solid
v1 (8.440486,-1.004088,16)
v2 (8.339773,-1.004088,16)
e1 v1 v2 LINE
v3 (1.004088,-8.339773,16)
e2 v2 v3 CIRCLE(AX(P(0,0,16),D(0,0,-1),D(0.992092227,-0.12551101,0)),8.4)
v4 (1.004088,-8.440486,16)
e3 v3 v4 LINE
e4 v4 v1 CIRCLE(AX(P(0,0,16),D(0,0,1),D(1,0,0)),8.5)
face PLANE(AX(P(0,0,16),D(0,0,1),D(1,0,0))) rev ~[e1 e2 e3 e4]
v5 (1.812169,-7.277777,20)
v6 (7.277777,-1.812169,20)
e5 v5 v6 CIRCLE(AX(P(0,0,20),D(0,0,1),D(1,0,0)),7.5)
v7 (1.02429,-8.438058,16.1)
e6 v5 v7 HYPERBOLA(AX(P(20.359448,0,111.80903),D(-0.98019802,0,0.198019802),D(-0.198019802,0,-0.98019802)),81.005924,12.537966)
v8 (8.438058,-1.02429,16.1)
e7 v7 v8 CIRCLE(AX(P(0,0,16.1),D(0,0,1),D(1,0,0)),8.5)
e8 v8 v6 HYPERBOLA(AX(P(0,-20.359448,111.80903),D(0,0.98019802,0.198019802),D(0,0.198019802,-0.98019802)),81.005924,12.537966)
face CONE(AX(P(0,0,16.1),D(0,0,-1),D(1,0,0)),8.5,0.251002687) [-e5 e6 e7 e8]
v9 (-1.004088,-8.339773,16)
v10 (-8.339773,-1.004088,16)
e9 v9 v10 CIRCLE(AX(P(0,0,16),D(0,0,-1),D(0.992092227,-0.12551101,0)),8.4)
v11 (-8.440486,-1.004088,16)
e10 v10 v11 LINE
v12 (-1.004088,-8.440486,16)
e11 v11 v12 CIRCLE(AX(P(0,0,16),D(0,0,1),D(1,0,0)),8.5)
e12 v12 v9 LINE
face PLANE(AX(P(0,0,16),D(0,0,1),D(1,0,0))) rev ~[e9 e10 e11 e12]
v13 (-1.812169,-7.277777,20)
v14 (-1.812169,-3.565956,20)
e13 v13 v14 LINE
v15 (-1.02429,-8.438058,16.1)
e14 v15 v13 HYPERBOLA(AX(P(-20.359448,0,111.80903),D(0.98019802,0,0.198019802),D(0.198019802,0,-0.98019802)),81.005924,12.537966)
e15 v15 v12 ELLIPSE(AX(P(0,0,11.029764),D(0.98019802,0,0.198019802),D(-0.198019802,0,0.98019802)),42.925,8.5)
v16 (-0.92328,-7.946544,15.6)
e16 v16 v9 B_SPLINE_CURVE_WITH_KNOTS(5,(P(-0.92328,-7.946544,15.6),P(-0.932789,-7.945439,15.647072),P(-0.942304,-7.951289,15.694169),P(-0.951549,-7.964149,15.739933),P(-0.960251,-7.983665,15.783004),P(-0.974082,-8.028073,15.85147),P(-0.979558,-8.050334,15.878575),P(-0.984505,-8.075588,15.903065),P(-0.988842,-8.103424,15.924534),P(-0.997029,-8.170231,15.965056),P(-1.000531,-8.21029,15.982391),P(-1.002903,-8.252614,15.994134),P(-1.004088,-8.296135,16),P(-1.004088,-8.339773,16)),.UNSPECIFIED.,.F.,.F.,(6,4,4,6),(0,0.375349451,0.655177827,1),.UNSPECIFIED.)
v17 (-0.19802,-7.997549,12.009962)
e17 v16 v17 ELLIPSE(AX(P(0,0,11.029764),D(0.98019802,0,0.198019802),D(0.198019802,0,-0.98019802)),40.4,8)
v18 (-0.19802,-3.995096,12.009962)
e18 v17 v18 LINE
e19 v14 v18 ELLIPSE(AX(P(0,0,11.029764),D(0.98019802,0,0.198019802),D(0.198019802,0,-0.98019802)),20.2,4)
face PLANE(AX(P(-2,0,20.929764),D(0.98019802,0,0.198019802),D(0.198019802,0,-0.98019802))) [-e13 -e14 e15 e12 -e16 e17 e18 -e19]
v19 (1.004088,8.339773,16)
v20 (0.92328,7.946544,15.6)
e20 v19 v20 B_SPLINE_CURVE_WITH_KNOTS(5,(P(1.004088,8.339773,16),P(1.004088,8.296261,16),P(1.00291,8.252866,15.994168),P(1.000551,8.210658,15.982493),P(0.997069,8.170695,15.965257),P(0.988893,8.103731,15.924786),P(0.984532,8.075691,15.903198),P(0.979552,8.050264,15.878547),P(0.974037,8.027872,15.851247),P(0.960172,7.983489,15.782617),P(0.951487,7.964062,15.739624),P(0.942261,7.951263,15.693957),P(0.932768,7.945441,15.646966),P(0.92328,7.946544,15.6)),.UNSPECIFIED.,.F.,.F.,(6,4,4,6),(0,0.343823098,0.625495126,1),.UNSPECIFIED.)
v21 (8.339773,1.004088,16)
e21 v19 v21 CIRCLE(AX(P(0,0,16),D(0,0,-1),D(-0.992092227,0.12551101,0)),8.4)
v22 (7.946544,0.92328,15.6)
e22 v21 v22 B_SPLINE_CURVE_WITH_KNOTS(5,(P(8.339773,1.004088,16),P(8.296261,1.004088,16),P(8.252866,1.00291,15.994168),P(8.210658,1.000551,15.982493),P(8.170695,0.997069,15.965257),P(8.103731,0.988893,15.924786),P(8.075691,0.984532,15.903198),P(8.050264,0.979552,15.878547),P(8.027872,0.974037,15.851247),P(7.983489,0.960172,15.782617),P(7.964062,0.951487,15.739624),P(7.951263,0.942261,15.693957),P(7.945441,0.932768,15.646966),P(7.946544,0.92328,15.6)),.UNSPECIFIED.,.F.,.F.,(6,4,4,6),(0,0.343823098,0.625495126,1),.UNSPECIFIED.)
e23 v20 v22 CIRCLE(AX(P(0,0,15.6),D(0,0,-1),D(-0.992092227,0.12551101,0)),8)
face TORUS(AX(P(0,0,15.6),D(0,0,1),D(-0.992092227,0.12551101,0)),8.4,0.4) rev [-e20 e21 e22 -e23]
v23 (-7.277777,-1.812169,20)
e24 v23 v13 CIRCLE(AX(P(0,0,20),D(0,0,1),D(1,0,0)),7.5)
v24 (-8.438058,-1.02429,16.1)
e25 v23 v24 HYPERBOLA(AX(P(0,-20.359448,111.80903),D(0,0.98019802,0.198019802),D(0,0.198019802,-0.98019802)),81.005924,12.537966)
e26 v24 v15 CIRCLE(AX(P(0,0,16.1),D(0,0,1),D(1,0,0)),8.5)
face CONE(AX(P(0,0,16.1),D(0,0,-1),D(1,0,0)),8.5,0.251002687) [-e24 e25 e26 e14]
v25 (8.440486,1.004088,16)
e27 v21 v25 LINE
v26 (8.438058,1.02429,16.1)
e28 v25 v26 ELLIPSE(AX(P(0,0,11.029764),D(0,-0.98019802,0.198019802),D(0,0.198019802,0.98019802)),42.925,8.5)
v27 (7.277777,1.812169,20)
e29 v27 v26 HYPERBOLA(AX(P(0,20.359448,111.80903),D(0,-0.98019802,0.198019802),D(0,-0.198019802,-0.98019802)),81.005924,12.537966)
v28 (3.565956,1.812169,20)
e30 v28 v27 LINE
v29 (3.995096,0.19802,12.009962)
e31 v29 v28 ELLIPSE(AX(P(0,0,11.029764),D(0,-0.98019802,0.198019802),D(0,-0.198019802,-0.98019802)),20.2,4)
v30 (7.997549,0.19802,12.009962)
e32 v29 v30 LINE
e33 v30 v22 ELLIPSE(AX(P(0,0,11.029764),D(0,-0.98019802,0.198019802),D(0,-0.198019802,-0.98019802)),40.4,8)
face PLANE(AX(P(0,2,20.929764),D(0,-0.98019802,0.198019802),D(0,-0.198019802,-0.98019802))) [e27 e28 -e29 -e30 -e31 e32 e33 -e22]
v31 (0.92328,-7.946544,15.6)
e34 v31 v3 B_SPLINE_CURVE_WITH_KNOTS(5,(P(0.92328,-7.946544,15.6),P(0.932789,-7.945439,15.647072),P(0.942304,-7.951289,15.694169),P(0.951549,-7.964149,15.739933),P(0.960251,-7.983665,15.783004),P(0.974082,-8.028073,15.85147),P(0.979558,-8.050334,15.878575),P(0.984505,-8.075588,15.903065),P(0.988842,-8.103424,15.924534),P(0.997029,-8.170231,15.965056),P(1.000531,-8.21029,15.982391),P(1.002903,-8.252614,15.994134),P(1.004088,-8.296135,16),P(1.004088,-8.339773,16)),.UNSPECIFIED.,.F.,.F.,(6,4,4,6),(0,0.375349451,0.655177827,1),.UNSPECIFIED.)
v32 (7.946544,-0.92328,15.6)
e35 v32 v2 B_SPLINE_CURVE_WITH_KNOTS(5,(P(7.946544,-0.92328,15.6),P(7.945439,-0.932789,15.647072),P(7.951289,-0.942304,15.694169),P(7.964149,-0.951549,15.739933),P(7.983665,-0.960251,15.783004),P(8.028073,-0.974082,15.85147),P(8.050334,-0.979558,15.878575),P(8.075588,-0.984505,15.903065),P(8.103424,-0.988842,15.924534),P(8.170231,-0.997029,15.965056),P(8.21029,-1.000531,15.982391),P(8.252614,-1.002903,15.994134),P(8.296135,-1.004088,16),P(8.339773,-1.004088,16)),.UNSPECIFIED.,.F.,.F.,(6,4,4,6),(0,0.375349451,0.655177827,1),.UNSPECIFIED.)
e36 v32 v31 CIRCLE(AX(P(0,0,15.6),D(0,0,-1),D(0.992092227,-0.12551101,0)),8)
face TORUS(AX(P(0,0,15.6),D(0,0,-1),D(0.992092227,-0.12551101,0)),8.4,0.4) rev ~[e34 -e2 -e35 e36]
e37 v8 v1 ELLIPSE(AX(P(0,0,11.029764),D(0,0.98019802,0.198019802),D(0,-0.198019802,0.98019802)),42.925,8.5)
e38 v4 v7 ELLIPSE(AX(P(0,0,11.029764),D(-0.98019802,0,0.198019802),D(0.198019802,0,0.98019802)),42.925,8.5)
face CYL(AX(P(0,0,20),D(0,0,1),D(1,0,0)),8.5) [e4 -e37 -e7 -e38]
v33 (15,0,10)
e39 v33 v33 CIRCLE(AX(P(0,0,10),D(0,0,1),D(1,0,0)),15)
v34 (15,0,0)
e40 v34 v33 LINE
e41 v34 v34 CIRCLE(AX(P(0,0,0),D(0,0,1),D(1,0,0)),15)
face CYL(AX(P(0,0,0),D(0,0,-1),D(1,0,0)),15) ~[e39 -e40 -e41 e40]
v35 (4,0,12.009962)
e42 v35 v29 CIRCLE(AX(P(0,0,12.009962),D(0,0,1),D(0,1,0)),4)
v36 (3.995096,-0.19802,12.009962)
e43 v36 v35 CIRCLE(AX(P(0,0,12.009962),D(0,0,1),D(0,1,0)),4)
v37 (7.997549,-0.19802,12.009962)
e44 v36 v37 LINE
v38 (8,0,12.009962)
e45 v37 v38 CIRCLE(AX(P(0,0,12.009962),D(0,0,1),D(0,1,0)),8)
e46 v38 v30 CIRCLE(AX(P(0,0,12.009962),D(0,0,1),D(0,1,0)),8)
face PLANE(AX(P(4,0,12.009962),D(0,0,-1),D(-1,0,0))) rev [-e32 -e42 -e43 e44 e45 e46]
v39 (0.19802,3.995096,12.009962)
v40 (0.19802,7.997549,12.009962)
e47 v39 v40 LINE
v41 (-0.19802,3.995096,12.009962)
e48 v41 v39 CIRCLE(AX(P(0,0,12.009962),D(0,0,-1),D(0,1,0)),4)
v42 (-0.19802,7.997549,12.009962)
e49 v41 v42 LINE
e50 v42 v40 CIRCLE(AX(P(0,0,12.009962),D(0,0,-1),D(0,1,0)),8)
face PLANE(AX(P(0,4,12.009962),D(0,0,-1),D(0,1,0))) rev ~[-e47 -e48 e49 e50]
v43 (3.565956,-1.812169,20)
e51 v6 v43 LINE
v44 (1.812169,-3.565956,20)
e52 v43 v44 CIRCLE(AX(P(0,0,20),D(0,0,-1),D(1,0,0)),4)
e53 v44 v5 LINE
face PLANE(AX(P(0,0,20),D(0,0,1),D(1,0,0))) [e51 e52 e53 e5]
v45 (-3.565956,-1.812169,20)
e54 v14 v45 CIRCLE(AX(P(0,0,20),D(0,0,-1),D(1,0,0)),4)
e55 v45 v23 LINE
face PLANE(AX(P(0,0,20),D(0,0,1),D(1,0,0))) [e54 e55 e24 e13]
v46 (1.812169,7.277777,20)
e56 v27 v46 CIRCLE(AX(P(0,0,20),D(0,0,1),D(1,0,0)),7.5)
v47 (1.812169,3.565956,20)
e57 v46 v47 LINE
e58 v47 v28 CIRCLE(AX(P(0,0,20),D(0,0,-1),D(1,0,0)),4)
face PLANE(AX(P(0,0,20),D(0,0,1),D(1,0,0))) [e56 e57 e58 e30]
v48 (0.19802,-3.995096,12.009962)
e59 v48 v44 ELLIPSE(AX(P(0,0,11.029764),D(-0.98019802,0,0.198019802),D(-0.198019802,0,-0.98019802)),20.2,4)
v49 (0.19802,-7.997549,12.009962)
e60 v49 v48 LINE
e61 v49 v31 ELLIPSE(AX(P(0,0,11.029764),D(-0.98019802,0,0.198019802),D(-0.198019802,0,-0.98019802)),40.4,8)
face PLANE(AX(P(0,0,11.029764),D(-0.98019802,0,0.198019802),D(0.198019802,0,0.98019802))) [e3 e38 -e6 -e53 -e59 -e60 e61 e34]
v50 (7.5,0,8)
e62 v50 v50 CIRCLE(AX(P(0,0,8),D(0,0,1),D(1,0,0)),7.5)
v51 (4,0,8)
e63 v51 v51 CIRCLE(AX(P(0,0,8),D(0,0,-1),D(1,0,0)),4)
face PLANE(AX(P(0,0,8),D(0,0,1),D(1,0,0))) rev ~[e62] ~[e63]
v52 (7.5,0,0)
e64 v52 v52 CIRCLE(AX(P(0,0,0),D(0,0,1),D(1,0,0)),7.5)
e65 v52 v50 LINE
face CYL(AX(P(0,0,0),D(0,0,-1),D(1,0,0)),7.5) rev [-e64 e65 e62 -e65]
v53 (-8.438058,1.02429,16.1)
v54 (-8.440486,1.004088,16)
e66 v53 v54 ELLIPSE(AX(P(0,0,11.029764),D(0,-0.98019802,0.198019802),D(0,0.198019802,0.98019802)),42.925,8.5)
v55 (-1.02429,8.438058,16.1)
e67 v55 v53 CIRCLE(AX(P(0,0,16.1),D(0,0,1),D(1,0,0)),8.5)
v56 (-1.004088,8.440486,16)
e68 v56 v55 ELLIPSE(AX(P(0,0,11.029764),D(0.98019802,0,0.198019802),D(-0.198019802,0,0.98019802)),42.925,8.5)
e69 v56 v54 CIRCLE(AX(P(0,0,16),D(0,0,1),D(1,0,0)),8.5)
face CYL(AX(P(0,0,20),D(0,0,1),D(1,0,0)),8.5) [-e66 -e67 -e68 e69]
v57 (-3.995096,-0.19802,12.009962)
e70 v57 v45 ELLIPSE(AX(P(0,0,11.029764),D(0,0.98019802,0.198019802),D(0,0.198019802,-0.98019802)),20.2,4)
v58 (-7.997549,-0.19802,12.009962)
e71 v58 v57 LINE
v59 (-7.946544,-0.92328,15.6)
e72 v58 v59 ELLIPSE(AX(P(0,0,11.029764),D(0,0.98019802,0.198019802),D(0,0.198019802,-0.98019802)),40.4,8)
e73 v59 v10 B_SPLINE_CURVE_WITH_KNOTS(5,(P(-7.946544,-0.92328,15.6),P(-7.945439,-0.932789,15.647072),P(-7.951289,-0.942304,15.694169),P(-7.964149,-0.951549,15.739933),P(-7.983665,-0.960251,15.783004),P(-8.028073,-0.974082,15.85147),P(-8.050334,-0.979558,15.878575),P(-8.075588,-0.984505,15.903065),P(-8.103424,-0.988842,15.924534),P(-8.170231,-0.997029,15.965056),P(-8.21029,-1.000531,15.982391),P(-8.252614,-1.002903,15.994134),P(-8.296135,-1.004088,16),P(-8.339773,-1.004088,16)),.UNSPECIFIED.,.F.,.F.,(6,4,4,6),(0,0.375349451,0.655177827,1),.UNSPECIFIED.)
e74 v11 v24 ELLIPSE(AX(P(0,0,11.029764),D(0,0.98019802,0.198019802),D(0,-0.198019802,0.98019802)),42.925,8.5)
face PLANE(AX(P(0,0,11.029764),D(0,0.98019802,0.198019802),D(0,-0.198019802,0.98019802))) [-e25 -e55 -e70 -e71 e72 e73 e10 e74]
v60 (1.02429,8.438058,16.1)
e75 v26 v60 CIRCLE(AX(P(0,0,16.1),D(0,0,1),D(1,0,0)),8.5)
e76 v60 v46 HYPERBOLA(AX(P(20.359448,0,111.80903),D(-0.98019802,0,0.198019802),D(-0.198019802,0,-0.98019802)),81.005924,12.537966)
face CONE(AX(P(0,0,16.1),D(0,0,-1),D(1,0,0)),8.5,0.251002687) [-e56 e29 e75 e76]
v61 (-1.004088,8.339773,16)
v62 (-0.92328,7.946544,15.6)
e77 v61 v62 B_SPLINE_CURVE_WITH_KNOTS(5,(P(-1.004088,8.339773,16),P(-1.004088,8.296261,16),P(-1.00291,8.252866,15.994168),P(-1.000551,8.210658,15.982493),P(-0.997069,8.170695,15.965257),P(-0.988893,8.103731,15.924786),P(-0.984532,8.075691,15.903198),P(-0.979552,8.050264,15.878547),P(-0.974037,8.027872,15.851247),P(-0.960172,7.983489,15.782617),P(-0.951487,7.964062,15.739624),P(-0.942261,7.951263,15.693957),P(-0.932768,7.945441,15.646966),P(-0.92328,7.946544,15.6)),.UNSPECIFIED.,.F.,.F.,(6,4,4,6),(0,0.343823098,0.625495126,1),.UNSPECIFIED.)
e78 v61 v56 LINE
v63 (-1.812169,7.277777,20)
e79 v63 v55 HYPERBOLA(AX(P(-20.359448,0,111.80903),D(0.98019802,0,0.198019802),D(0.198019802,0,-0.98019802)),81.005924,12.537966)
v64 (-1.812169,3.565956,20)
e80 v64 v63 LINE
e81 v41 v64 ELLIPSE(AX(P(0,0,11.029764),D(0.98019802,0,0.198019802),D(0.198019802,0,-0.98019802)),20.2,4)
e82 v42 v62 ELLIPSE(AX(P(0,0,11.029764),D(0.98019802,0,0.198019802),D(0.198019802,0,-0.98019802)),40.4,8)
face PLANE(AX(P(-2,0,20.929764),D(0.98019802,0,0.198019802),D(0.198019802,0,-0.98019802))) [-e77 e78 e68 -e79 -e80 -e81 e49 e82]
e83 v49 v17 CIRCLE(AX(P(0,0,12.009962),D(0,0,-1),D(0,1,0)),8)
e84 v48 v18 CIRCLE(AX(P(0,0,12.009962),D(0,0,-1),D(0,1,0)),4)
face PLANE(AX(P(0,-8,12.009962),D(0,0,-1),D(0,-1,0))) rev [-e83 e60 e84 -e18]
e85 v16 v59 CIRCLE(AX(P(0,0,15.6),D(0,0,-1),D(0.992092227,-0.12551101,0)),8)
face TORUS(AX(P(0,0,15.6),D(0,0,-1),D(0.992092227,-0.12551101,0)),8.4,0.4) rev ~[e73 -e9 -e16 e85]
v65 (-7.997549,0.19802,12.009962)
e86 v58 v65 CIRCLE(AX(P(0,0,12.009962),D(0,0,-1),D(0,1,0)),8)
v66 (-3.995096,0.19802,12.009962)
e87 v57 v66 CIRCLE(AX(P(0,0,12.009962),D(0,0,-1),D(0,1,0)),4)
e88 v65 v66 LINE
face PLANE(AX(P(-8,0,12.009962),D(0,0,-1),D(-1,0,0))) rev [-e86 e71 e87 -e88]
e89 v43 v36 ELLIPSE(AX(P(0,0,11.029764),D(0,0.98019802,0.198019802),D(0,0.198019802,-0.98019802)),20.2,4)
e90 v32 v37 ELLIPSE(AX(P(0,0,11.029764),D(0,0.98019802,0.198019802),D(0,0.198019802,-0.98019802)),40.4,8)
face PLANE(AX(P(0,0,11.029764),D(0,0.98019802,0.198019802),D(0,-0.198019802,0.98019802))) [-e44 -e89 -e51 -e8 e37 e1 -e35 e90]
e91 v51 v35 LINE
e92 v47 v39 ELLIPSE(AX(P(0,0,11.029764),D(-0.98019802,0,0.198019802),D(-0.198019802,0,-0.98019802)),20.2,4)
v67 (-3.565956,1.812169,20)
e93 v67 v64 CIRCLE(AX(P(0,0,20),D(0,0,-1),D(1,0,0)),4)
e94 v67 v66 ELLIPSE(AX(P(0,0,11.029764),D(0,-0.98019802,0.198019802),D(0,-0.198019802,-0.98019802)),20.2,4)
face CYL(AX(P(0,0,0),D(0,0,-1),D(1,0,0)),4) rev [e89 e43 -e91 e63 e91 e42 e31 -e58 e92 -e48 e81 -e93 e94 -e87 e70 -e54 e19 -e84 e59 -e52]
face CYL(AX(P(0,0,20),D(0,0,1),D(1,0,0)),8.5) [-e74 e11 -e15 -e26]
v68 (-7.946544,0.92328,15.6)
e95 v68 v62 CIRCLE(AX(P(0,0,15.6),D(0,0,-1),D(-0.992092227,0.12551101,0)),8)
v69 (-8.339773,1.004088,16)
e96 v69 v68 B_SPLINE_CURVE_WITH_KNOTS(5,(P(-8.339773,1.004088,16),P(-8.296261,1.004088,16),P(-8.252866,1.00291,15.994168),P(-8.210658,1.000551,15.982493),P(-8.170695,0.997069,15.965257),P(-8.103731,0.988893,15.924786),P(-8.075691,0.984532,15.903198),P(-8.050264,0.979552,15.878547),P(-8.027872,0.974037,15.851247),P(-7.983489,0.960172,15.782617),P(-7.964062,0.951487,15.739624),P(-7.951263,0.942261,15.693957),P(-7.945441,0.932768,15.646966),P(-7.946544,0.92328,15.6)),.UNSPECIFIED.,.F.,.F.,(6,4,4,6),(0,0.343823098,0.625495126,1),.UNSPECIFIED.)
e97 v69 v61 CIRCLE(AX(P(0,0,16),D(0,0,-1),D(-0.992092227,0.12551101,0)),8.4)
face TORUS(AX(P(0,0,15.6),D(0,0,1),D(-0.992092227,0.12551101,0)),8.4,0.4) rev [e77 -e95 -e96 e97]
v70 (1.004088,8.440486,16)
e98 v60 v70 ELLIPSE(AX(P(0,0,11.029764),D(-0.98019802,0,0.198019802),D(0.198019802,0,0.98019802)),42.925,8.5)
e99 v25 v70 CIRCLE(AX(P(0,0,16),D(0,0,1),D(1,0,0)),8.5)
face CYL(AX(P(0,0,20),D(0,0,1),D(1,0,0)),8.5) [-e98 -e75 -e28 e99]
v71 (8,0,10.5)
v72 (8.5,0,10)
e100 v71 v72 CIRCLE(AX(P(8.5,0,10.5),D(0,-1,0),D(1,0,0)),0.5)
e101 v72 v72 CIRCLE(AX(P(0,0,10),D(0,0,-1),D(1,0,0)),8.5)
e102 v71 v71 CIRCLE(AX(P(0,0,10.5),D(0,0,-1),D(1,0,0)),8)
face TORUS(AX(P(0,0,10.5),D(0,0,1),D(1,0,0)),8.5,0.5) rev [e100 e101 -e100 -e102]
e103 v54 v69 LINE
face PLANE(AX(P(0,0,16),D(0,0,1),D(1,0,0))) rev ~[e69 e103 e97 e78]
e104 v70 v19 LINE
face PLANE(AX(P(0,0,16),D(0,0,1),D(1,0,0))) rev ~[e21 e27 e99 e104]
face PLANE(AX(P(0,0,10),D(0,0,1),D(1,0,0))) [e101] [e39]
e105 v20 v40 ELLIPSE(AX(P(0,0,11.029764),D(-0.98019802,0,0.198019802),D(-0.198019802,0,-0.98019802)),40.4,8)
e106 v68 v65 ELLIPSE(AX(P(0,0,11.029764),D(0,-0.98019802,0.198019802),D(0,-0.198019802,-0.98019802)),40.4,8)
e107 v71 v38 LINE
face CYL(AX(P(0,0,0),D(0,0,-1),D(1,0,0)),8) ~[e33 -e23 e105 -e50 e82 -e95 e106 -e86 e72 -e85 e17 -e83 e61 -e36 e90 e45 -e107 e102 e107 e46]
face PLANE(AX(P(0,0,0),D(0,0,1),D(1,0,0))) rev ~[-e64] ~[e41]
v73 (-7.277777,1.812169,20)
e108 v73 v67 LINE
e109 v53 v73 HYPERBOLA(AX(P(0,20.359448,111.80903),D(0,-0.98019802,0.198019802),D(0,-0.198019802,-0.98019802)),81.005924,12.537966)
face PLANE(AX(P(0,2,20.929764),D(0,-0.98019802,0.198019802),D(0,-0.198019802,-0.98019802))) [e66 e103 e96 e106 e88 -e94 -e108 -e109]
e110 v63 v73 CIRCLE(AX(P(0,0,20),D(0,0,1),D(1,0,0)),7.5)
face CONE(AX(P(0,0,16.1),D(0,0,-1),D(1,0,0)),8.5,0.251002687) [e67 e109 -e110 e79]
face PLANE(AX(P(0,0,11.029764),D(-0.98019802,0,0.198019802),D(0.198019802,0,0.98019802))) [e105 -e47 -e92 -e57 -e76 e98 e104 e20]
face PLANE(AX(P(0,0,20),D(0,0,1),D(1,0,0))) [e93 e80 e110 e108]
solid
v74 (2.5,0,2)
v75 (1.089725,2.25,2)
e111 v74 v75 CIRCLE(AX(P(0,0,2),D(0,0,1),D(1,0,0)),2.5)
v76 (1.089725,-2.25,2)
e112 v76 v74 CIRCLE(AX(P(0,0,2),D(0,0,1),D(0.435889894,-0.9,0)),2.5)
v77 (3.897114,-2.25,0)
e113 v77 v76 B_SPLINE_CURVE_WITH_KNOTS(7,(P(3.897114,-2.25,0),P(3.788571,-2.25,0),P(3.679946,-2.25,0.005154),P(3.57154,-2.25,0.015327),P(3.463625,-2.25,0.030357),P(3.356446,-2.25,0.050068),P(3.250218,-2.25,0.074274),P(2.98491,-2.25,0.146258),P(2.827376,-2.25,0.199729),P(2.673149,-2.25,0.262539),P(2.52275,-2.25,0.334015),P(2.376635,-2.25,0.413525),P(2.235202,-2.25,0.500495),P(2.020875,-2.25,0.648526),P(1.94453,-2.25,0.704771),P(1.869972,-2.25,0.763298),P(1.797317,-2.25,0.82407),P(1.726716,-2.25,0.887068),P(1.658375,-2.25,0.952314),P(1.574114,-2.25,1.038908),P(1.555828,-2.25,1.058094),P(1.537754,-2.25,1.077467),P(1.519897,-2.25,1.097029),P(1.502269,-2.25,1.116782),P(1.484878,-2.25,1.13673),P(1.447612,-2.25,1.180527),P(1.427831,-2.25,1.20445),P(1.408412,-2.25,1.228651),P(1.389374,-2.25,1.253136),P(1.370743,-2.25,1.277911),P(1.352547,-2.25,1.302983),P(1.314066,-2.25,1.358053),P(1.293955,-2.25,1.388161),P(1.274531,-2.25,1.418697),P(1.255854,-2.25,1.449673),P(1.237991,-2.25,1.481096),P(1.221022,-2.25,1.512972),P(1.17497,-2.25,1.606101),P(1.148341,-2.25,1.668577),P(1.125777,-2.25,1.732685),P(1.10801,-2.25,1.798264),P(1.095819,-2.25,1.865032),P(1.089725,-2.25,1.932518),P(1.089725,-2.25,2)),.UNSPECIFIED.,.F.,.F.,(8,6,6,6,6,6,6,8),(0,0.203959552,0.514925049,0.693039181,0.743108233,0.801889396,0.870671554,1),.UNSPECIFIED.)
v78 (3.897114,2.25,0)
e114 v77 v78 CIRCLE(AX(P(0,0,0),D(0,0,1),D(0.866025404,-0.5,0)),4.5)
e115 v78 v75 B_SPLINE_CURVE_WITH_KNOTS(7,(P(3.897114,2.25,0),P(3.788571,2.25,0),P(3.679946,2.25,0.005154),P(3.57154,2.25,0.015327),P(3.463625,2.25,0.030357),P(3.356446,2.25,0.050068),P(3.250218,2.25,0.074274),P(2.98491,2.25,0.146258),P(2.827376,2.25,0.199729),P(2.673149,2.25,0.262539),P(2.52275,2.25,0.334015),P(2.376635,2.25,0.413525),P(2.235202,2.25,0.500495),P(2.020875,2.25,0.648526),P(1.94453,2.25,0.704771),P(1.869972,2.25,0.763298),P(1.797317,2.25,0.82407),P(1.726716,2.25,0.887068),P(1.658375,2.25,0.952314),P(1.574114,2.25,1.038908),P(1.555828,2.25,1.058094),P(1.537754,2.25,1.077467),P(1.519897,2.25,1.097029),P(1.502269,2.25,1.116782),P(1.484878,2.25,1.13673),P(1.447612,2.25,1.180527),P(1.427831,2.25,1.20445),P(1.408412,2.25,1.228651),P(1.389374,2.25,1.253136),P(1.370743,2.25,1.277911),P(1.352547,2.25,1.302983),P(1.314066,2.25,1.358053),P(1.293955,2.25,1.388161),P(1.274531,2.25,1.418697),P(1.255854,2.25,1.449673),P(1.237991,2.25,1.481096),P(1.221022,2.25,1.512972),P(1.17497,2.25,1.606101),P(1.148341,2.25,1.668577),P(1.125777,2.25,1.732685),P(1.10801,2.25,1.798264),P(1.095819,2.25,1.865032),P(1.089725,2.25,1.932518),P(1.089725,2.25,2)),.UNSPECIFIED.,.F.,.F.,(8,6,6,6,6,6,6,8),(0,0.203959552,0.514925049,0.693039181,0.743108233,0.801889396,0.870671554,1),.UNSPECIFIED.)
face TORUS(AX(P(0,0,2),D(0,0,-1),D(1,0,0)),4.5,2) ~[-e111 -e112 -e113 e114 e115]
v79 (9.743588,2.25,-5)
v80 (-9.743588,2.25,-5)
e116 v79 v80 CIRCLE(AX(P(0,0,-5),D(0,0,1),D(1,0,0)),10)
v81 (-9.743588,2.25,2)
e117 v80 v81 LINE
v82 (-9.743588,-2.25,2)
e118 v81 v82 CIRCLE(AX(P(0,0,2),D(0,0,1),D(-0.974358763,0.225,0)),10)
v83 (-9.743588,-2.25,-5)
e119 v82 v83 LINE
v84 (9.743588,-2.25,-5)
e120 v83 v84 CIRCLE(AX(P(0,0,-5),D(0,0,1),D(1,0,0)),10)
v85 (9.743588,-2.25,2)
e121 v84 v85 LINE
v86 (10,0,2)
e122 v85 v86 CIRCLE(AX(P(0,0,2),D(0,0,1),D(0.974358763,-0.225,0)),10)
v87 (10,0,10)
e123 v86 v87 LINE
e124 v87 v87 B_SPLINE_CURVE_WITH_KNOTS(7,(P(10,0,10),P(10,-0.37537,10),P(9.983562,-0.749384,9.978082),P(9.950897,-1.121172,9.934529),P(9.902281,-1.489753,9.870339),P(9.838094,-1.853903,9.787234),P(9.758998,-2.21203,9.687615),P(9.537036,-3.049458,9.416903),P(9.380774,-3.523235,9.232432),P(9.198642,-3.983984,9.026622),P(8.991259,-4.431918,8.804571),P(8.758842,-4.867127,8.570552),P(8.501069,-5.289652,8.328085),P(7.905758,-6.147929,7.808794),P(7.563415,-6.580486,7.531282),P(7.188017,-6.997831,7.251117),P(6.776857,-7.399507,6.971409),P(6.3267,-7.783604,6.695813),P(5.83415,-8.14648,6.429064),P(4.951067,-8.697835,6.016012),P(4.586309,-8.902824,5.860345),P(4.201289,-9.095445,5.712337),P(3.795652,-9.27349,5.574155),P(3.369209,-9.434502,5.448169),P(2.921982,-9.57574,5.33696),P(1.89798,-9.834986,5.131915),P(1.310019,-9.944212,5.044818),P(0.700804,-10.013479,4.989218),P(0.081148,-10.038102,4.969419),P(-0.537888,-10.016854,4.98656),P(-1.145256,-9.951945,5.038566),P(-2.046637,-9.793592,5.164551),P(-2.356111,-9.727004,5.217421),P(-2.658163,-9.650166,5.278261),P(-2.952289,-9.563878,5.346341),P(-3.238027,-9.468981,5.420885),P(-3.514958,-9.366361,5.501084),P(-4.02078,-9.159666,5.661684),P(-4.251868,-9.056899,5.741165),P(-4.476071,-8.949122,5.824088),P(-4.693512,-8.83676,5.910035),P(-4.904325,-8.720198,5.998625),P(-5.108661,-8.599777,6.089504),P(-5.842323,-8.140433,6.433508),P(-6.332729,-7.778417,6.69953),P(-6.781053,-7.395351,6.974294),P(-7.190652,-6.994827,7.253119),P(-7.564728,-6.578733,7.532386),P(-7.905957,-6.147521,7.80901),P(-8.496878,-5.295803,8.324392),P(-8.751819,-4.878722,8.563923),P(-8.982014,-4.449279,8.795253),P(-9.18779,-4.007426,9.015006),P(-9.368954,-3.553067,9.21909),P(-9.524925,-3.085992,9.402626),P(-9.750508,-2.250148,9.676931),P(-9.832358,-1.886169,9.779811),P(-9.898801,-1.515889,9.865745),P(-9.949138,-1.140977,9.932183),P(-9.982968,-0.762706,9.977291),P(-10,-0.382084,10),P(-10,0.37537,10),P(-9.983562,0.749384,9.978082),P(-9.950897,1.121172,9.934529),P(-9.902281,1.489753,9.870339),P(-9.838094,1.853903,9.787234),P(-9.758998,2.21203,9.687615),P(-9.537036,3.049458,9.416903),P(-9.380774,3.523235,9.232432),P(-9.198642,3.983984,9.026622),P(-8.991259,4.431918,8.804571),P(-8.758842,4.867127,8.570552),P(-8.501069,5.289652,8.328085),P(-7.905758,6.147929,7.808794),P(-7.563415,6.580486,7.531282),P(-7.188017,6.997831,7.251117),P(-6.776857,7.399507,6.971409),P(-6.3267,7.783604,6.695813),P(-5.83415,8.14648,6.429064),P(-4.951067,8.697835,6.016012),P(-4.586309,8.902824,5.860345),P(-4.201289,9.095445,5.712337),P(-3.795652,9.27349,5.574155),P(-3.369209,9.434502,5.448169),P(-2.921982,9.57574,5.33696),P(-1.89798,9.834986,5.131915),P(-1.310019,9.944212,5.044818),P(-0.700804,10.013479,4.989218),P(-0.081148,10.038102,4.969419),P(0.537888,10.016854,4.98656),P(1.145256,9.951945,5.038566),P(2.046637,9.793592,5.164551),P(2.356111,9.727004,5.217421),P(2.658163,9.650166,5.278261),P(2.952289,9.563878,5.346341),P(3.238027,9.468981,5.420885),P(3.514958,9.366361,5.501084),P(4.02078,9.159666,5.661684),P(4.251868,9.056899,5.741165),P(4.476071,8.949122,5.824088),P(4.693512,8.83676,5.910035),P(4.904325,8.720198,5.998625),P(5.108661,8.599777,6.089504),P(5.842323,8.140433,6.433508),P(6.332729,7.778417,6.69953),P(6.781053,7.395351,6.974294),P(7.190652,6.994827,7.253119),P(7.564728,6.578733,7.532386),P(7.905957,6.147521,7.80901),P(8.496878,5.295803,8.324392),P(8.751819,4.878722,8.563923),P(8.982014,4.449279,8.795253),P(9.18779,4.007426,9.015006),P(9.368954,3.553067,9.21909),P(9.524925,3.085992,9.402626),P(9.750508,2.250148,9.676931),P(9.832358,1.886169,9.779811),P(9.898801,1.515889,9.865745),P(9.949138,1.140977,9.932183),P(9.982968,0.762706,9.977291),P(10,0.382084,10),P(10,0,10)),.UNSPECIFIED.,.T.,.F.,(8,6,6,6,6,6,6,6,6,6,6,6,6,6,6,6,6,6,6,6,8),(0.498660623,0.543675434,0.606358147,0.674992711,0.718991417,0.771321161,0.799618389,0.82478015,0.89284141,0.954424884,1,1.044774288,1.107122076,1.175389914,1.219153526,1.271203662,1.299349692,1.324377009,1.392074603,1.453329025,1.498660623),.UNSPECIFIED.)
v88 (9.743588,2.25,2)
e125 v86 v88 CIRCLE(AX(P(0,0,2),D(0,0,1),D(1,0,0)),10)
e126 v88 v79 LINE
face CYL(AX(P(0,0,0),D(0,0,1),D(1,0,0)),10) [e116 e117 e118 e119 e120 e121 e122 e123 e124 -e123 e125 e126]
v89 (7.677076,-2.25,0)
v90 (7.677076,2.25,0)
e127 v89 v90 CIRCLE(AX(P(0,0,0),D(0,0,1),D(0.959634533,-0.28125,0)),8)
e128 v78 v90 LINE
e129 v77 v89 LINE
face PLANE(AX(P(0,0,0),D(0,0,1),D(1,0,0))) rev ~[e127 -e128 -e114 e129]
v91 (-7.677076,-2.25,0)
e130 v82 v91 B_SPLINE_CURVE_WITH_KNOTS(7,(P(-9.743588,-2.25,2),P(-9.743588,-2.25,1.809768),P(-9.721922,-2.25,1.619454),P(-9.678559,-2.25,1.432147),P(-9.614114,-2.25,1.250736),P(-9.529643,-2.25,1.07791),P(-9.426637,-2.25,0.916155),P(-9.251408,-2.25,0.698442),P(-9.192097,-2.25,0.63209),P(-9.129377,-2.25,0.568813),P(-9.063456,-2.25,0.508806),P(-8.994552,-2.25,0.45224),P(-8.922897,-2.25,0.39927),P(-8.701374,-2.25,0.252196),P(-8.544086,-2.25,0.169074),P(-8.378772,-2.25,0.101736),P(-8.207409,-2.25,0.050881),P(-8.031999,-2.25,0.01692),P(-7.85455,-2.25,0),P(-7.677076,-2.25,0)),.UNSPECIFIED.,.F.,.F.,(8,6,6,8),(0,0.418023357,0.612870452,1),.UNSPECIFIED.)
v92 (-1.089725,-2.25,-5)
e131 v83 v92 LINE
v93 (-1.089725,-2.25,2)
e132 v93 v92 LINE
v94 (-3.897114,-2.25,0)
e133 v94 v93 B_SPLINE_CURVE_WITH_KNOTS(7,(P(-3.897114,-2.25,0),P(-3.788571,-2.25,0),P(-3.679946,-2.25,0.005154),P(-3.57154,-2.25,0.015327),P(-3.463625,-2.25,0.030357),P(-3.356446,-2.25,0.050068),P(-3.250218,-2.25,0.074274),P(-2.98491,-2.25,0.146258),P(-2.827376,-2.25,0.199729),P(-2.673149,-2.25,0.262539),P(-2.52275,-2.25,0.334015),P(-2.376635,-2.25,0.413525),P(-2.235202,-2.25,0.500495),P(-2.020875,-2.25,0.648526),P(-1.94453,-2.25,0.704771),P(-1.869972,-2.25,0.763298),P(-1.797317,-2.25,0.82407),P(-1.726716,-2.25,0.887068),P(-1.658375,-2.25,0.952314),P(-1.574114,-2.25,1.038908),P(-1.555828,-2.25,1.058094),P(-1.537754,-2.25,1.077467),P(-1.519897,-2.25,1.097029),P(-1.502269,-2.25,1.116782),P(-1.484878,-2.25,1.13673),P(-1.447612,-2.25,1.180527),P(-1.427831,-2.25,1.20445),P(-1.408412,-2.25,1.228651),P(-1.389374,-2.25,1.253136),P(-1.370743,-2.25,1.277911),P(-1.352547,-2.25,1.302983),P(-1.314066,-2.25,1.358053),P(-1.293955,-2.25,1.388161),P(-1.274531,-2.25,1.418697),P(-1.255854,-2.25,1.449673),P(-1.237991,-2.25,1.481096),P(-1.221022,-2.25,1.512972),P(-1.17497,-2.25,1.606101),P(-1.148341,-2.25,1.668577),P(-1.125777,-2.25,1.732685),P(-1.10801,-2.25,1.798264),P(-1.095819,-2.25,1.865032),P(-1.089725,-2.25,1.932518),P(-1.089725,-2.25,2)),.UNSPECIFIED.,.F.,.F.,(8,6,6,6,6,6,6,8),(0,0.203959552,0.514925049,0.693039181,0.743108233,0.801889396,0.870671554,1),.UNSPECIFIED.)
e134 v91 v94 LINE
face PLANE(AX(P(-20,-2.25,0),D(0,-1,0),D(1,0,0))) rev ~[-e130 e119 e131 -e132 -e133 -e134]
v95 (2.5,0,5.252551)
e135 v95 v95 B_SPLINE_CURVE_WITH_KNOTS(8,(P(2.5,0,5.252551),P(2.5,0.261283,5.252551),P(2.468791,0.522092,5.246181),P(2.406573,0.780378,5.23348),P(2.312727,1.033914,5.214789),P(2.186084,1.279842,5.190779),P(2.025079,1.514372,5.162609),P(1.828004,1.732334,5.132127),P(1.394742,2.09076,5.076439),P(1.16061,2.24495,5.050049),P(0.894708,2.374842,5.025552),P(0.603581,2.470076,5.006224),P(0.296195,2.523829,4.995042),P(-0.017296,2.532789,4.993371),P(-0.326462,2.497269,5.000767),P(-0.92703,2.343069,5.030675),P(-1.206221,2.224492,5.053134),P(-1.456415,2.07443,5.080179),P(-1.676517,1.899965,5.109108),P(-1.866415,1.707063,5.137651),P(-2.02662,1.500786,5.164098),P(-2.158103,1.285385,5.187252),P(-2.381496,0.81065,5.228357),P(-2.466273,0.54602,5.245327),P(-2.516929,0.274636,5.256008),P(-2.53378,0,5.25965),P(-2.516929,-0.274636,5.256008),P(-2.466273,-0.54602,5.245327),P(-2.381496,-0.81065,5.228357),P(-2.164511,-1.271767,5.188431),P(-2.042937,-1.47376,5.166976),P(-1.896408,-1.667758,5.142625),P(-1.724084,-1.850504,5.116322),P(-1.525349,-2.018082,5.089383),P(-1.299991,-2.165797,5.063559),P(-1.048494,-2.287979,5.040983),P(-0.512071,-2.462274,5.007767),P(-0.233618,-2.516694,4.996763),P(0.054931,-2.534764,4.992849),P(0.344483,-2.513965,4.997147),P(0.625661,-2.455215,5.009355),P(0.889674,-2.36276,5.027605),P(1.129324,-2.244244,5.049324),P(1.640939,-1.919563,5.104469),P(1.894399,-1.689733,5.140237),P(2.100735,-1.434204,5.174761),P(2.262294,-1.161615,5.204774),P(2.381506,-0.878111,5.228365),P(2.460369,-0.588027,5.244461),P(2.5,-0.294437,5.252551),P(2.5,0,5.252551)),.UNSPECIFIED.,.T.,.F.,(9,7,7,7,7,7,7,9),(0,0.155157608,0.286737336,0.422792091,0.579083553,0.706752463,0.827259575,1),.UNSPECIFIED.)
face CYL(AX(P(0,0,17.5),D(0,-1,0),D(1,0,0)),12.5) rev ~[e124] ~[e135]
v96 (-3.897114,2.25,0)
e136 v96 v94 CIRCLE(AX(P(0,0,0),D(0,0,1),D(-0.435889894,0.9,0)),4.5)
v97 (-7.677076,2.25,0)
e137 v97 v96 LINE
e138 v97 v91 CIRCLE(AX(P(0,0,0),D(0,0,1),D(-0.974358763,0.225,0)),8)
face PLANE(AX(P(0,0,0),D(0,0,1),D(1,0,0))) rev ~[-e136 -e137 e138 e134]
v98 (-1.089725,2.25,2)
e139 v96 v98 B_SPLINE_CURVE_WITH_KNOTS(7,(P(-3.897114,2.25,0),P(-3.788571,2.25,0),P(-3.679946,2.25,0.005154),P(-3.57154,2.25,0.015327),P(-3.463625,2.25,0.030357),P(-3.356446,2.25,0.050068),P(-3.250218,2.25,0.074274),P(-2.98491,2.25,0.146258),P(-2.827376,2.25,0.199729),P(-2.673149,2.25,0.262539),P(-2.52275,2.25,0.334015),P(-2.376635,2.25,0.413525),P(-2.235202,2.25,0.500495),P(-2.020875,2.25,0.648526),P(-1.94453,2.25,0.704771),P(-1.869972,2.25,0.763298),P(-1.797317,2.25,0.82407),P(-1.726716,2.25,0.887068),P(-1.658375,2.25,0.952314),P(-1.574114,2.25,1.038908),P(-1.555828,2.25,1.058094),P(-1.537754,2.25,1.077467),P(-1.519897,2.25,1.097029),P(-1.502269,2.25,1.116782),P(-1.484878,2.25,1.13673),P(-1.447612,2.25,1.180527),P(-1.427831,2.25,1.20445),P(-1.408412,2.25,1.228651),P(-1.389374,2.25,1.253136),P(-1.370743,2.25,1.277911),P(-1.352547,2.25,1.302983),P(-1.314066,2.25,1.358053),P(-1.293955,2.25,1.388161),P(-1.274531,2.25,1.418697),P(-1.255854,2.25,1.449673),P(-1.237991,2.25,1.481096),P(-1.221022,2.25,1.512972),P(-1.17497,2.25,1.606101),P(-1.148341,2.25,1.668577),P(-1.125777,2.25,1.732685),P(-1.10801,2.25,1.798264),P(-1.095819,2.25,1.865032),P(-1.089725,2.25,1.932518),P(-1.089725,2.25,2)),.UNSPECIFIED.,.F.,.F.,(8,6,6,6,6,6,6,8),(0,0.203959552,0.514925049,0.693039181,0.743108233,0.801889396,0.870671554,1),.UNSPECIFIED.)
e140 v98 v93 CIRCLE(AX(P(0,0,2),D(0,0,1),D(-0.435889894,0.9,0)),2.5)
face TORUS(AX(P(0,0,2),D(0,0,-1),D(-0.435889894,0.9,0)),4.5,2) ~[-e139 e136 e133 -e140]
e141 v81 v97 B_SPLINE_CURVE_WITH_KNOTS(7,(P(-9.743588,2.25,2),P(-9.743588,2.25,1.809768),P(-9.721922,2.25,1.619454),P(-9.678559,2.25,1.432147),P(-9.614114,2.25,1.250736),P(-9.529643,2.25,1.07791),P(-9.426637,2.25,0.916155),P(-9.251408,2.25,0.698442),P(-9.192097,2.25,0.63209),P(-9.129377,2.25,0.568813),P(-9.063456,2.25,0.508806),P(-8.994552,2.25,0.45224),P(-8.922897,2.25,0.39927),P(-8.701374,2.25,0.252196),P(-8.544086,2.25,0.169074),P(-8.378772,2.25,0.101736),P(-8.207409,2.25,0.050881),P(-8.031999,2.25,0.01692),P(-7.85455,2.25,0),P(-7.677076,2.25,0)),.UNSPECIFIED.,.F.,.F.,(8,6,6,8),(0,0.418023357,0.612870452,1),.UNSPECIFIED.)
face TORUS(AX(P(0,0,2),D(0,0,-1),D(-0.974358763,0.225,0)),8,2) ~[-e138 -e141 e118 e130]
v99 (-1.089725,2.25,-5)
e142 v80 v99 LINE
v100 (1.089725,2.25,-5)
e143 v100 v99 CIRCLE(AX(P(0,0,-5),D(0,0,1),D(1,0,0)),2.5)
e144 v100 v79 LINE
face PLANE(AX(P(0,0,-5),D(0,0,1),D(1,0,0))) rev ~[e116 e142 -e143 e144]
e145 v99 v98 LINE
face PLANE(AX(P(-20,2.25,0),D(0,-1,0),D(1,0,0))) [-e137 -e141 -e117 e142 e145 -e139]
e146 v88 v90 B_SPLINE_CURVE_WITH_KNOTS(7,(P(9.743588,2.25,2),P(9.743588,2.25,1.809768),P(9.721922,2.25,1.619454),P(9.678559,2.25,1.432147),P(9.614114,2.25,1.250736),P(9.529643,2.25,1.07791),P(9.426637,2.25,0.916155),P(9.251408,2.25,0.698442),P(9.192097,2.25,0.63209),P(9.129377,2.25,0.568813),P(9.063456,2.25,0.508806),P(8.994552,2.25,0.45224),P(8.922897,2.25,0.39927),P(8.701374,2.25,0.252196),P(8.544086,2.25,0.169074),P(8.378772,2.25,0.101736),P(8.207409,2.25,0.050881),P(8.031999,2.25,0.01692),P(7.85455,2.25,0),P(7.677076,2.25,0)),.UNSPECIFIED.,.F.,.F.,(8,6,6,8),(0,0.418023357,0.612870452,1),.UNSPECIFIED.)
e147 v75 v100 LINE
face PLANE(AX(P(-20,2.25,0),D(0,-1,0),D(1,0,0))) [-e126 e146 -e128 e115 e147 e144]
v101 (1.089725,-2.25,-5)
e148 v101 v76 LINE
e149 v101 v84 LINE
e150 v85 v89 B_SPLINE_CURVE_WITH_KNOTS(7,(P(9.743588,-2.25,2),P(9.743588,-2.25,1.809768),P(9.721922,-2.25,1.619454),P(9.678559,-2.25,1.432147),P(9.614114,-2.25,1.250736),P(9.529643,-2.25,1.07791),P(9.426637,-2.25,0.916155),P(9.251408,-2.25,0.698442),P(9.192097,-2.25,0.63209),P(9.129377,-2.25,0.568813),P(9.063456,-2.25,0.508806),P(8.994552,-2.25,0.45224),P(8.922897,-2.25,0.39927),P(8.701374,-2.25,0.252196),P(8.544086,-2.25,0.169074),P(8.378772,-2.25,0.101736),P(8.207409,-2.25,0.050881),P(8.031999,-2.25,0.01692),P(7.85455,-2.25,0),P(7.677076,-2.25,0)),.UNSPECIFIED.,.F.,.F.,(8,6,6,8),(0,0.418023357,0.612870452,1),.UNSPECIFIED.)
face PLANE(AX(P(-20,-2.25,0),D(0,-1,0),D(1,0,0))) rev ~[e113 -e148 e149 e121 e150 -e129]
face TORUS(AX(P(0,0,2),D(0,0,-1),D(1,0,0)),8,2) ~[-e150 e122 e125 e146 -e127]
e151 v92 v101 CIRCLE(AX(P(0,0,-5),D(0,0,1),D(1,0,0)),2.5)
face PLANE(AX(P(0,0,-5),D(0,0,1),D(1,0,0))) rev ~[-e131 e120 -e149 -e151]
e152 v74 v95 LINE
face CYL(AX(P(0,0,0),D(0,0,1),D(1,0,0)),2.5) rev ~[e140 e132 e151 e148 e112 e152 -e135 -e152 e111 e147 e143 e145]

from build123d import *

# Parameters (mm, degrees)
SKETCH_R        = 10
PAD_DEPTH       = 10
PAD_DEPTH_BACK  = 5
SKETCH001_R     = 12.5
POCKET_DEPTH    = 11
SKETCH003_R     = 2.5
POCKET002_DEPTH = 7.5
SKETCH004_W     = 40
SKETCH004_H     = 4.5
POCKET003_DEPTH = 8
FILLET_R        = 2
SKETCH005_R     = 8
PAD001_DEPTH    = 20
SKETCH006_R     = 15
PAD002_DEPTH    = 10
SKETCH008_R     = 8.5
PAD003_DEPTH    = 4
CHAMFER_SIZE2   = 1
CHAMFER_SIZE    = 3.9
SKETCH009_R     = 4
POCKET004_DEPTH = 22
SKETCH010_R     = 7.5
POCKET005_DEPTH = 8
POCKET006_DEPTH = 11
FILLET001_R     = 0.4
FILLET002_R     = 0.5
CHAMFER001_SIZE = 1
POCKET007_DEPTH = 10
CHAMFER002_SIZE = 1


with BuildPart() as feet2:
    # Sketch (on XY_Plane of Origin) → Pad (new body, two sides)
    with BuildSketch(Plane.XY) as pad_sk:
        Circle(SKETCH_R)
    extrude(amount=PAD_DEPTH)
    extrude(pad_sk.sketch, amount=-PAD_DEPTH_BACK)

    # Sketch001 (on XZ_Plane of Origin) → Pocket (cut, symmetric)
    with BuildSketch(Plane.XZ):
        with Locations((0, 17.5)):
            Circle(SKETCH001_R)
    extrude(amount=POCKET_DEPTH, both=True, mode=Mode.SUBTRACT)

    # Sketch003 (on XY_Plane of Origin) → Pocket002 (cut, symmetric)
    with BuildSketch(Plane.XY):
        Circle(SKETCH003_R)
    extrude(amount=POCKET002_DEPTH, both=True, mode=Mode.SUBTRACT)

    # Sketch004 (on XY_Plane of Origin) → Pocket003 (cut)
    with BuildSketch(Plane.XY):
        Rectangle(SKETCH004_W, SKETCH004_H)
    extrude(amount=-POCKET003_DEPTH, mode=Mode.SUBTRACT)

    # Fillet
    fillet_edges = [feet2.edges().sort_by_distance(p)[0] for p in [
        (9.93569, 1.132282, 0),
        (2.118291, -1.327721, 0),
        (-10, 0, 0),
        (-2.5, 0, 0),
    ]]
    fillet(fillet_edges, radius=FILLET_R)


with BuildPart() as feet3:
    # Sketch005 (on XY_Plane001 of Origin002) → Pad001 (new body)
    with BuildSketch(Plane.XY):
        Circle(SKETCH005_R)
    extrude(amount=PAD001_DEPTH)

    # Sketch006 (on XY_Plane001 of Origin002) → Pad002 (join)
    with BuildSketch(Plane.XY):
        Circle(SKETCH006_R)
    extrude(amount=PAD002_DEPTH)

    # Sketch008 (on XY_Plane001 of Origin002) → Pad003 (join)
    with BuildSketch(Plane.XY.offset(20)):
        Circle(SKETCH008_R)
    extrude(amount=-PAD003_DEPTH)

    # Chamfer
    chamfer_edges = [feet3.edges().sort_by_distance(p)[0] for p in [
        (-8.5, 0, 20),
    ]]
    chamfer_side = feet3.faces().sort_by_distance((-8.5, 0, 18))[0]
    chamfer(chamfer_edges, length=CHAMFER_SIZE, length2=CHAMFER_SIZE2, reference=chamfer_side)

    # Sketch009 (on XY_Plane001 of Origin002) → Pocket004 (cut)
    with BuildSketch(Plane.XY):
        Circle(SKETCH009_R)
    extrude(amount=POCKET004_DEPTH, mode=Mode.SUBTRACT)

    # Sketch010 (on XY_Plane001 of Origin002) → Pocket005 (cut)
    with BuildSketch(Plane.XY):
        Circle(SKETCH010_R)
    extrude(amount=POCKET005_DEPTH, mode=Mode.SUBTRACT)

    # Sketch011 (on YZ_Plane001 of Origin002) → Pocket006 (cut, symmetric)
    with BuildSketch(Plane.YZ):
        Polygon((0, 11.029764), (-2, 20.929764), (2, 20.929764), align=None)
    extrude(amount=POCKET006_DEPTH, both=True, mode=Mode.SUBTRACT)

    # Fillet001
    fillet001_edges = [feet3.edges().sort_by_distance(p)[0] for p in [
        (0, -8, 16),
        (0, 8, 16),
    ]]
    fillet(fillet001_edges, radius=FILLET001_R)

    # Fillet002
    fillet002_edges = [feet3.edges().sort_by_distance(p)[0] for p in [
        (-8, 0, 10),
    ]]
    fillet(fillet002_edges, radius=FILLET002_R)

    # Chamfer001
    chamfer001_edges = [feet3.edges().sort_by_distance(p)[0] for p in [
        (6, 0, 11.029764),
        (-6, 0, 11.029764),
    ]]
    chamfer(chamfer001_edges, length=CHAMFER001_SIZE)

    # Sketch012 (on YZ_Plane001 of Origin002) → Pocket007 (cut, symmetric)
    with BuildSketch(Plane(origin=(0, 0, 0), x_dir=(-1, 0, 0), z_dir=(0, 1, 0))):
        Polygon((0, 11.029764), (-2, 20.929764), (2, 20.929764), align=None)
    extrude(amount=POCKET007_DEPTH, both=True, mode=Mode.SUBTRACT)

    # Chamfer002
    chamfer002_edges = [feet3.edges().sort_by_distance(p)[0] for p in [
        (0, -6, 11.029764),
        (0, 6, 11.029764),
    ]]
    chamfer(chamfer002_edges, length=CHAMFER002_SIZE)


solid = Compound([feet2.part, feet3.part])
